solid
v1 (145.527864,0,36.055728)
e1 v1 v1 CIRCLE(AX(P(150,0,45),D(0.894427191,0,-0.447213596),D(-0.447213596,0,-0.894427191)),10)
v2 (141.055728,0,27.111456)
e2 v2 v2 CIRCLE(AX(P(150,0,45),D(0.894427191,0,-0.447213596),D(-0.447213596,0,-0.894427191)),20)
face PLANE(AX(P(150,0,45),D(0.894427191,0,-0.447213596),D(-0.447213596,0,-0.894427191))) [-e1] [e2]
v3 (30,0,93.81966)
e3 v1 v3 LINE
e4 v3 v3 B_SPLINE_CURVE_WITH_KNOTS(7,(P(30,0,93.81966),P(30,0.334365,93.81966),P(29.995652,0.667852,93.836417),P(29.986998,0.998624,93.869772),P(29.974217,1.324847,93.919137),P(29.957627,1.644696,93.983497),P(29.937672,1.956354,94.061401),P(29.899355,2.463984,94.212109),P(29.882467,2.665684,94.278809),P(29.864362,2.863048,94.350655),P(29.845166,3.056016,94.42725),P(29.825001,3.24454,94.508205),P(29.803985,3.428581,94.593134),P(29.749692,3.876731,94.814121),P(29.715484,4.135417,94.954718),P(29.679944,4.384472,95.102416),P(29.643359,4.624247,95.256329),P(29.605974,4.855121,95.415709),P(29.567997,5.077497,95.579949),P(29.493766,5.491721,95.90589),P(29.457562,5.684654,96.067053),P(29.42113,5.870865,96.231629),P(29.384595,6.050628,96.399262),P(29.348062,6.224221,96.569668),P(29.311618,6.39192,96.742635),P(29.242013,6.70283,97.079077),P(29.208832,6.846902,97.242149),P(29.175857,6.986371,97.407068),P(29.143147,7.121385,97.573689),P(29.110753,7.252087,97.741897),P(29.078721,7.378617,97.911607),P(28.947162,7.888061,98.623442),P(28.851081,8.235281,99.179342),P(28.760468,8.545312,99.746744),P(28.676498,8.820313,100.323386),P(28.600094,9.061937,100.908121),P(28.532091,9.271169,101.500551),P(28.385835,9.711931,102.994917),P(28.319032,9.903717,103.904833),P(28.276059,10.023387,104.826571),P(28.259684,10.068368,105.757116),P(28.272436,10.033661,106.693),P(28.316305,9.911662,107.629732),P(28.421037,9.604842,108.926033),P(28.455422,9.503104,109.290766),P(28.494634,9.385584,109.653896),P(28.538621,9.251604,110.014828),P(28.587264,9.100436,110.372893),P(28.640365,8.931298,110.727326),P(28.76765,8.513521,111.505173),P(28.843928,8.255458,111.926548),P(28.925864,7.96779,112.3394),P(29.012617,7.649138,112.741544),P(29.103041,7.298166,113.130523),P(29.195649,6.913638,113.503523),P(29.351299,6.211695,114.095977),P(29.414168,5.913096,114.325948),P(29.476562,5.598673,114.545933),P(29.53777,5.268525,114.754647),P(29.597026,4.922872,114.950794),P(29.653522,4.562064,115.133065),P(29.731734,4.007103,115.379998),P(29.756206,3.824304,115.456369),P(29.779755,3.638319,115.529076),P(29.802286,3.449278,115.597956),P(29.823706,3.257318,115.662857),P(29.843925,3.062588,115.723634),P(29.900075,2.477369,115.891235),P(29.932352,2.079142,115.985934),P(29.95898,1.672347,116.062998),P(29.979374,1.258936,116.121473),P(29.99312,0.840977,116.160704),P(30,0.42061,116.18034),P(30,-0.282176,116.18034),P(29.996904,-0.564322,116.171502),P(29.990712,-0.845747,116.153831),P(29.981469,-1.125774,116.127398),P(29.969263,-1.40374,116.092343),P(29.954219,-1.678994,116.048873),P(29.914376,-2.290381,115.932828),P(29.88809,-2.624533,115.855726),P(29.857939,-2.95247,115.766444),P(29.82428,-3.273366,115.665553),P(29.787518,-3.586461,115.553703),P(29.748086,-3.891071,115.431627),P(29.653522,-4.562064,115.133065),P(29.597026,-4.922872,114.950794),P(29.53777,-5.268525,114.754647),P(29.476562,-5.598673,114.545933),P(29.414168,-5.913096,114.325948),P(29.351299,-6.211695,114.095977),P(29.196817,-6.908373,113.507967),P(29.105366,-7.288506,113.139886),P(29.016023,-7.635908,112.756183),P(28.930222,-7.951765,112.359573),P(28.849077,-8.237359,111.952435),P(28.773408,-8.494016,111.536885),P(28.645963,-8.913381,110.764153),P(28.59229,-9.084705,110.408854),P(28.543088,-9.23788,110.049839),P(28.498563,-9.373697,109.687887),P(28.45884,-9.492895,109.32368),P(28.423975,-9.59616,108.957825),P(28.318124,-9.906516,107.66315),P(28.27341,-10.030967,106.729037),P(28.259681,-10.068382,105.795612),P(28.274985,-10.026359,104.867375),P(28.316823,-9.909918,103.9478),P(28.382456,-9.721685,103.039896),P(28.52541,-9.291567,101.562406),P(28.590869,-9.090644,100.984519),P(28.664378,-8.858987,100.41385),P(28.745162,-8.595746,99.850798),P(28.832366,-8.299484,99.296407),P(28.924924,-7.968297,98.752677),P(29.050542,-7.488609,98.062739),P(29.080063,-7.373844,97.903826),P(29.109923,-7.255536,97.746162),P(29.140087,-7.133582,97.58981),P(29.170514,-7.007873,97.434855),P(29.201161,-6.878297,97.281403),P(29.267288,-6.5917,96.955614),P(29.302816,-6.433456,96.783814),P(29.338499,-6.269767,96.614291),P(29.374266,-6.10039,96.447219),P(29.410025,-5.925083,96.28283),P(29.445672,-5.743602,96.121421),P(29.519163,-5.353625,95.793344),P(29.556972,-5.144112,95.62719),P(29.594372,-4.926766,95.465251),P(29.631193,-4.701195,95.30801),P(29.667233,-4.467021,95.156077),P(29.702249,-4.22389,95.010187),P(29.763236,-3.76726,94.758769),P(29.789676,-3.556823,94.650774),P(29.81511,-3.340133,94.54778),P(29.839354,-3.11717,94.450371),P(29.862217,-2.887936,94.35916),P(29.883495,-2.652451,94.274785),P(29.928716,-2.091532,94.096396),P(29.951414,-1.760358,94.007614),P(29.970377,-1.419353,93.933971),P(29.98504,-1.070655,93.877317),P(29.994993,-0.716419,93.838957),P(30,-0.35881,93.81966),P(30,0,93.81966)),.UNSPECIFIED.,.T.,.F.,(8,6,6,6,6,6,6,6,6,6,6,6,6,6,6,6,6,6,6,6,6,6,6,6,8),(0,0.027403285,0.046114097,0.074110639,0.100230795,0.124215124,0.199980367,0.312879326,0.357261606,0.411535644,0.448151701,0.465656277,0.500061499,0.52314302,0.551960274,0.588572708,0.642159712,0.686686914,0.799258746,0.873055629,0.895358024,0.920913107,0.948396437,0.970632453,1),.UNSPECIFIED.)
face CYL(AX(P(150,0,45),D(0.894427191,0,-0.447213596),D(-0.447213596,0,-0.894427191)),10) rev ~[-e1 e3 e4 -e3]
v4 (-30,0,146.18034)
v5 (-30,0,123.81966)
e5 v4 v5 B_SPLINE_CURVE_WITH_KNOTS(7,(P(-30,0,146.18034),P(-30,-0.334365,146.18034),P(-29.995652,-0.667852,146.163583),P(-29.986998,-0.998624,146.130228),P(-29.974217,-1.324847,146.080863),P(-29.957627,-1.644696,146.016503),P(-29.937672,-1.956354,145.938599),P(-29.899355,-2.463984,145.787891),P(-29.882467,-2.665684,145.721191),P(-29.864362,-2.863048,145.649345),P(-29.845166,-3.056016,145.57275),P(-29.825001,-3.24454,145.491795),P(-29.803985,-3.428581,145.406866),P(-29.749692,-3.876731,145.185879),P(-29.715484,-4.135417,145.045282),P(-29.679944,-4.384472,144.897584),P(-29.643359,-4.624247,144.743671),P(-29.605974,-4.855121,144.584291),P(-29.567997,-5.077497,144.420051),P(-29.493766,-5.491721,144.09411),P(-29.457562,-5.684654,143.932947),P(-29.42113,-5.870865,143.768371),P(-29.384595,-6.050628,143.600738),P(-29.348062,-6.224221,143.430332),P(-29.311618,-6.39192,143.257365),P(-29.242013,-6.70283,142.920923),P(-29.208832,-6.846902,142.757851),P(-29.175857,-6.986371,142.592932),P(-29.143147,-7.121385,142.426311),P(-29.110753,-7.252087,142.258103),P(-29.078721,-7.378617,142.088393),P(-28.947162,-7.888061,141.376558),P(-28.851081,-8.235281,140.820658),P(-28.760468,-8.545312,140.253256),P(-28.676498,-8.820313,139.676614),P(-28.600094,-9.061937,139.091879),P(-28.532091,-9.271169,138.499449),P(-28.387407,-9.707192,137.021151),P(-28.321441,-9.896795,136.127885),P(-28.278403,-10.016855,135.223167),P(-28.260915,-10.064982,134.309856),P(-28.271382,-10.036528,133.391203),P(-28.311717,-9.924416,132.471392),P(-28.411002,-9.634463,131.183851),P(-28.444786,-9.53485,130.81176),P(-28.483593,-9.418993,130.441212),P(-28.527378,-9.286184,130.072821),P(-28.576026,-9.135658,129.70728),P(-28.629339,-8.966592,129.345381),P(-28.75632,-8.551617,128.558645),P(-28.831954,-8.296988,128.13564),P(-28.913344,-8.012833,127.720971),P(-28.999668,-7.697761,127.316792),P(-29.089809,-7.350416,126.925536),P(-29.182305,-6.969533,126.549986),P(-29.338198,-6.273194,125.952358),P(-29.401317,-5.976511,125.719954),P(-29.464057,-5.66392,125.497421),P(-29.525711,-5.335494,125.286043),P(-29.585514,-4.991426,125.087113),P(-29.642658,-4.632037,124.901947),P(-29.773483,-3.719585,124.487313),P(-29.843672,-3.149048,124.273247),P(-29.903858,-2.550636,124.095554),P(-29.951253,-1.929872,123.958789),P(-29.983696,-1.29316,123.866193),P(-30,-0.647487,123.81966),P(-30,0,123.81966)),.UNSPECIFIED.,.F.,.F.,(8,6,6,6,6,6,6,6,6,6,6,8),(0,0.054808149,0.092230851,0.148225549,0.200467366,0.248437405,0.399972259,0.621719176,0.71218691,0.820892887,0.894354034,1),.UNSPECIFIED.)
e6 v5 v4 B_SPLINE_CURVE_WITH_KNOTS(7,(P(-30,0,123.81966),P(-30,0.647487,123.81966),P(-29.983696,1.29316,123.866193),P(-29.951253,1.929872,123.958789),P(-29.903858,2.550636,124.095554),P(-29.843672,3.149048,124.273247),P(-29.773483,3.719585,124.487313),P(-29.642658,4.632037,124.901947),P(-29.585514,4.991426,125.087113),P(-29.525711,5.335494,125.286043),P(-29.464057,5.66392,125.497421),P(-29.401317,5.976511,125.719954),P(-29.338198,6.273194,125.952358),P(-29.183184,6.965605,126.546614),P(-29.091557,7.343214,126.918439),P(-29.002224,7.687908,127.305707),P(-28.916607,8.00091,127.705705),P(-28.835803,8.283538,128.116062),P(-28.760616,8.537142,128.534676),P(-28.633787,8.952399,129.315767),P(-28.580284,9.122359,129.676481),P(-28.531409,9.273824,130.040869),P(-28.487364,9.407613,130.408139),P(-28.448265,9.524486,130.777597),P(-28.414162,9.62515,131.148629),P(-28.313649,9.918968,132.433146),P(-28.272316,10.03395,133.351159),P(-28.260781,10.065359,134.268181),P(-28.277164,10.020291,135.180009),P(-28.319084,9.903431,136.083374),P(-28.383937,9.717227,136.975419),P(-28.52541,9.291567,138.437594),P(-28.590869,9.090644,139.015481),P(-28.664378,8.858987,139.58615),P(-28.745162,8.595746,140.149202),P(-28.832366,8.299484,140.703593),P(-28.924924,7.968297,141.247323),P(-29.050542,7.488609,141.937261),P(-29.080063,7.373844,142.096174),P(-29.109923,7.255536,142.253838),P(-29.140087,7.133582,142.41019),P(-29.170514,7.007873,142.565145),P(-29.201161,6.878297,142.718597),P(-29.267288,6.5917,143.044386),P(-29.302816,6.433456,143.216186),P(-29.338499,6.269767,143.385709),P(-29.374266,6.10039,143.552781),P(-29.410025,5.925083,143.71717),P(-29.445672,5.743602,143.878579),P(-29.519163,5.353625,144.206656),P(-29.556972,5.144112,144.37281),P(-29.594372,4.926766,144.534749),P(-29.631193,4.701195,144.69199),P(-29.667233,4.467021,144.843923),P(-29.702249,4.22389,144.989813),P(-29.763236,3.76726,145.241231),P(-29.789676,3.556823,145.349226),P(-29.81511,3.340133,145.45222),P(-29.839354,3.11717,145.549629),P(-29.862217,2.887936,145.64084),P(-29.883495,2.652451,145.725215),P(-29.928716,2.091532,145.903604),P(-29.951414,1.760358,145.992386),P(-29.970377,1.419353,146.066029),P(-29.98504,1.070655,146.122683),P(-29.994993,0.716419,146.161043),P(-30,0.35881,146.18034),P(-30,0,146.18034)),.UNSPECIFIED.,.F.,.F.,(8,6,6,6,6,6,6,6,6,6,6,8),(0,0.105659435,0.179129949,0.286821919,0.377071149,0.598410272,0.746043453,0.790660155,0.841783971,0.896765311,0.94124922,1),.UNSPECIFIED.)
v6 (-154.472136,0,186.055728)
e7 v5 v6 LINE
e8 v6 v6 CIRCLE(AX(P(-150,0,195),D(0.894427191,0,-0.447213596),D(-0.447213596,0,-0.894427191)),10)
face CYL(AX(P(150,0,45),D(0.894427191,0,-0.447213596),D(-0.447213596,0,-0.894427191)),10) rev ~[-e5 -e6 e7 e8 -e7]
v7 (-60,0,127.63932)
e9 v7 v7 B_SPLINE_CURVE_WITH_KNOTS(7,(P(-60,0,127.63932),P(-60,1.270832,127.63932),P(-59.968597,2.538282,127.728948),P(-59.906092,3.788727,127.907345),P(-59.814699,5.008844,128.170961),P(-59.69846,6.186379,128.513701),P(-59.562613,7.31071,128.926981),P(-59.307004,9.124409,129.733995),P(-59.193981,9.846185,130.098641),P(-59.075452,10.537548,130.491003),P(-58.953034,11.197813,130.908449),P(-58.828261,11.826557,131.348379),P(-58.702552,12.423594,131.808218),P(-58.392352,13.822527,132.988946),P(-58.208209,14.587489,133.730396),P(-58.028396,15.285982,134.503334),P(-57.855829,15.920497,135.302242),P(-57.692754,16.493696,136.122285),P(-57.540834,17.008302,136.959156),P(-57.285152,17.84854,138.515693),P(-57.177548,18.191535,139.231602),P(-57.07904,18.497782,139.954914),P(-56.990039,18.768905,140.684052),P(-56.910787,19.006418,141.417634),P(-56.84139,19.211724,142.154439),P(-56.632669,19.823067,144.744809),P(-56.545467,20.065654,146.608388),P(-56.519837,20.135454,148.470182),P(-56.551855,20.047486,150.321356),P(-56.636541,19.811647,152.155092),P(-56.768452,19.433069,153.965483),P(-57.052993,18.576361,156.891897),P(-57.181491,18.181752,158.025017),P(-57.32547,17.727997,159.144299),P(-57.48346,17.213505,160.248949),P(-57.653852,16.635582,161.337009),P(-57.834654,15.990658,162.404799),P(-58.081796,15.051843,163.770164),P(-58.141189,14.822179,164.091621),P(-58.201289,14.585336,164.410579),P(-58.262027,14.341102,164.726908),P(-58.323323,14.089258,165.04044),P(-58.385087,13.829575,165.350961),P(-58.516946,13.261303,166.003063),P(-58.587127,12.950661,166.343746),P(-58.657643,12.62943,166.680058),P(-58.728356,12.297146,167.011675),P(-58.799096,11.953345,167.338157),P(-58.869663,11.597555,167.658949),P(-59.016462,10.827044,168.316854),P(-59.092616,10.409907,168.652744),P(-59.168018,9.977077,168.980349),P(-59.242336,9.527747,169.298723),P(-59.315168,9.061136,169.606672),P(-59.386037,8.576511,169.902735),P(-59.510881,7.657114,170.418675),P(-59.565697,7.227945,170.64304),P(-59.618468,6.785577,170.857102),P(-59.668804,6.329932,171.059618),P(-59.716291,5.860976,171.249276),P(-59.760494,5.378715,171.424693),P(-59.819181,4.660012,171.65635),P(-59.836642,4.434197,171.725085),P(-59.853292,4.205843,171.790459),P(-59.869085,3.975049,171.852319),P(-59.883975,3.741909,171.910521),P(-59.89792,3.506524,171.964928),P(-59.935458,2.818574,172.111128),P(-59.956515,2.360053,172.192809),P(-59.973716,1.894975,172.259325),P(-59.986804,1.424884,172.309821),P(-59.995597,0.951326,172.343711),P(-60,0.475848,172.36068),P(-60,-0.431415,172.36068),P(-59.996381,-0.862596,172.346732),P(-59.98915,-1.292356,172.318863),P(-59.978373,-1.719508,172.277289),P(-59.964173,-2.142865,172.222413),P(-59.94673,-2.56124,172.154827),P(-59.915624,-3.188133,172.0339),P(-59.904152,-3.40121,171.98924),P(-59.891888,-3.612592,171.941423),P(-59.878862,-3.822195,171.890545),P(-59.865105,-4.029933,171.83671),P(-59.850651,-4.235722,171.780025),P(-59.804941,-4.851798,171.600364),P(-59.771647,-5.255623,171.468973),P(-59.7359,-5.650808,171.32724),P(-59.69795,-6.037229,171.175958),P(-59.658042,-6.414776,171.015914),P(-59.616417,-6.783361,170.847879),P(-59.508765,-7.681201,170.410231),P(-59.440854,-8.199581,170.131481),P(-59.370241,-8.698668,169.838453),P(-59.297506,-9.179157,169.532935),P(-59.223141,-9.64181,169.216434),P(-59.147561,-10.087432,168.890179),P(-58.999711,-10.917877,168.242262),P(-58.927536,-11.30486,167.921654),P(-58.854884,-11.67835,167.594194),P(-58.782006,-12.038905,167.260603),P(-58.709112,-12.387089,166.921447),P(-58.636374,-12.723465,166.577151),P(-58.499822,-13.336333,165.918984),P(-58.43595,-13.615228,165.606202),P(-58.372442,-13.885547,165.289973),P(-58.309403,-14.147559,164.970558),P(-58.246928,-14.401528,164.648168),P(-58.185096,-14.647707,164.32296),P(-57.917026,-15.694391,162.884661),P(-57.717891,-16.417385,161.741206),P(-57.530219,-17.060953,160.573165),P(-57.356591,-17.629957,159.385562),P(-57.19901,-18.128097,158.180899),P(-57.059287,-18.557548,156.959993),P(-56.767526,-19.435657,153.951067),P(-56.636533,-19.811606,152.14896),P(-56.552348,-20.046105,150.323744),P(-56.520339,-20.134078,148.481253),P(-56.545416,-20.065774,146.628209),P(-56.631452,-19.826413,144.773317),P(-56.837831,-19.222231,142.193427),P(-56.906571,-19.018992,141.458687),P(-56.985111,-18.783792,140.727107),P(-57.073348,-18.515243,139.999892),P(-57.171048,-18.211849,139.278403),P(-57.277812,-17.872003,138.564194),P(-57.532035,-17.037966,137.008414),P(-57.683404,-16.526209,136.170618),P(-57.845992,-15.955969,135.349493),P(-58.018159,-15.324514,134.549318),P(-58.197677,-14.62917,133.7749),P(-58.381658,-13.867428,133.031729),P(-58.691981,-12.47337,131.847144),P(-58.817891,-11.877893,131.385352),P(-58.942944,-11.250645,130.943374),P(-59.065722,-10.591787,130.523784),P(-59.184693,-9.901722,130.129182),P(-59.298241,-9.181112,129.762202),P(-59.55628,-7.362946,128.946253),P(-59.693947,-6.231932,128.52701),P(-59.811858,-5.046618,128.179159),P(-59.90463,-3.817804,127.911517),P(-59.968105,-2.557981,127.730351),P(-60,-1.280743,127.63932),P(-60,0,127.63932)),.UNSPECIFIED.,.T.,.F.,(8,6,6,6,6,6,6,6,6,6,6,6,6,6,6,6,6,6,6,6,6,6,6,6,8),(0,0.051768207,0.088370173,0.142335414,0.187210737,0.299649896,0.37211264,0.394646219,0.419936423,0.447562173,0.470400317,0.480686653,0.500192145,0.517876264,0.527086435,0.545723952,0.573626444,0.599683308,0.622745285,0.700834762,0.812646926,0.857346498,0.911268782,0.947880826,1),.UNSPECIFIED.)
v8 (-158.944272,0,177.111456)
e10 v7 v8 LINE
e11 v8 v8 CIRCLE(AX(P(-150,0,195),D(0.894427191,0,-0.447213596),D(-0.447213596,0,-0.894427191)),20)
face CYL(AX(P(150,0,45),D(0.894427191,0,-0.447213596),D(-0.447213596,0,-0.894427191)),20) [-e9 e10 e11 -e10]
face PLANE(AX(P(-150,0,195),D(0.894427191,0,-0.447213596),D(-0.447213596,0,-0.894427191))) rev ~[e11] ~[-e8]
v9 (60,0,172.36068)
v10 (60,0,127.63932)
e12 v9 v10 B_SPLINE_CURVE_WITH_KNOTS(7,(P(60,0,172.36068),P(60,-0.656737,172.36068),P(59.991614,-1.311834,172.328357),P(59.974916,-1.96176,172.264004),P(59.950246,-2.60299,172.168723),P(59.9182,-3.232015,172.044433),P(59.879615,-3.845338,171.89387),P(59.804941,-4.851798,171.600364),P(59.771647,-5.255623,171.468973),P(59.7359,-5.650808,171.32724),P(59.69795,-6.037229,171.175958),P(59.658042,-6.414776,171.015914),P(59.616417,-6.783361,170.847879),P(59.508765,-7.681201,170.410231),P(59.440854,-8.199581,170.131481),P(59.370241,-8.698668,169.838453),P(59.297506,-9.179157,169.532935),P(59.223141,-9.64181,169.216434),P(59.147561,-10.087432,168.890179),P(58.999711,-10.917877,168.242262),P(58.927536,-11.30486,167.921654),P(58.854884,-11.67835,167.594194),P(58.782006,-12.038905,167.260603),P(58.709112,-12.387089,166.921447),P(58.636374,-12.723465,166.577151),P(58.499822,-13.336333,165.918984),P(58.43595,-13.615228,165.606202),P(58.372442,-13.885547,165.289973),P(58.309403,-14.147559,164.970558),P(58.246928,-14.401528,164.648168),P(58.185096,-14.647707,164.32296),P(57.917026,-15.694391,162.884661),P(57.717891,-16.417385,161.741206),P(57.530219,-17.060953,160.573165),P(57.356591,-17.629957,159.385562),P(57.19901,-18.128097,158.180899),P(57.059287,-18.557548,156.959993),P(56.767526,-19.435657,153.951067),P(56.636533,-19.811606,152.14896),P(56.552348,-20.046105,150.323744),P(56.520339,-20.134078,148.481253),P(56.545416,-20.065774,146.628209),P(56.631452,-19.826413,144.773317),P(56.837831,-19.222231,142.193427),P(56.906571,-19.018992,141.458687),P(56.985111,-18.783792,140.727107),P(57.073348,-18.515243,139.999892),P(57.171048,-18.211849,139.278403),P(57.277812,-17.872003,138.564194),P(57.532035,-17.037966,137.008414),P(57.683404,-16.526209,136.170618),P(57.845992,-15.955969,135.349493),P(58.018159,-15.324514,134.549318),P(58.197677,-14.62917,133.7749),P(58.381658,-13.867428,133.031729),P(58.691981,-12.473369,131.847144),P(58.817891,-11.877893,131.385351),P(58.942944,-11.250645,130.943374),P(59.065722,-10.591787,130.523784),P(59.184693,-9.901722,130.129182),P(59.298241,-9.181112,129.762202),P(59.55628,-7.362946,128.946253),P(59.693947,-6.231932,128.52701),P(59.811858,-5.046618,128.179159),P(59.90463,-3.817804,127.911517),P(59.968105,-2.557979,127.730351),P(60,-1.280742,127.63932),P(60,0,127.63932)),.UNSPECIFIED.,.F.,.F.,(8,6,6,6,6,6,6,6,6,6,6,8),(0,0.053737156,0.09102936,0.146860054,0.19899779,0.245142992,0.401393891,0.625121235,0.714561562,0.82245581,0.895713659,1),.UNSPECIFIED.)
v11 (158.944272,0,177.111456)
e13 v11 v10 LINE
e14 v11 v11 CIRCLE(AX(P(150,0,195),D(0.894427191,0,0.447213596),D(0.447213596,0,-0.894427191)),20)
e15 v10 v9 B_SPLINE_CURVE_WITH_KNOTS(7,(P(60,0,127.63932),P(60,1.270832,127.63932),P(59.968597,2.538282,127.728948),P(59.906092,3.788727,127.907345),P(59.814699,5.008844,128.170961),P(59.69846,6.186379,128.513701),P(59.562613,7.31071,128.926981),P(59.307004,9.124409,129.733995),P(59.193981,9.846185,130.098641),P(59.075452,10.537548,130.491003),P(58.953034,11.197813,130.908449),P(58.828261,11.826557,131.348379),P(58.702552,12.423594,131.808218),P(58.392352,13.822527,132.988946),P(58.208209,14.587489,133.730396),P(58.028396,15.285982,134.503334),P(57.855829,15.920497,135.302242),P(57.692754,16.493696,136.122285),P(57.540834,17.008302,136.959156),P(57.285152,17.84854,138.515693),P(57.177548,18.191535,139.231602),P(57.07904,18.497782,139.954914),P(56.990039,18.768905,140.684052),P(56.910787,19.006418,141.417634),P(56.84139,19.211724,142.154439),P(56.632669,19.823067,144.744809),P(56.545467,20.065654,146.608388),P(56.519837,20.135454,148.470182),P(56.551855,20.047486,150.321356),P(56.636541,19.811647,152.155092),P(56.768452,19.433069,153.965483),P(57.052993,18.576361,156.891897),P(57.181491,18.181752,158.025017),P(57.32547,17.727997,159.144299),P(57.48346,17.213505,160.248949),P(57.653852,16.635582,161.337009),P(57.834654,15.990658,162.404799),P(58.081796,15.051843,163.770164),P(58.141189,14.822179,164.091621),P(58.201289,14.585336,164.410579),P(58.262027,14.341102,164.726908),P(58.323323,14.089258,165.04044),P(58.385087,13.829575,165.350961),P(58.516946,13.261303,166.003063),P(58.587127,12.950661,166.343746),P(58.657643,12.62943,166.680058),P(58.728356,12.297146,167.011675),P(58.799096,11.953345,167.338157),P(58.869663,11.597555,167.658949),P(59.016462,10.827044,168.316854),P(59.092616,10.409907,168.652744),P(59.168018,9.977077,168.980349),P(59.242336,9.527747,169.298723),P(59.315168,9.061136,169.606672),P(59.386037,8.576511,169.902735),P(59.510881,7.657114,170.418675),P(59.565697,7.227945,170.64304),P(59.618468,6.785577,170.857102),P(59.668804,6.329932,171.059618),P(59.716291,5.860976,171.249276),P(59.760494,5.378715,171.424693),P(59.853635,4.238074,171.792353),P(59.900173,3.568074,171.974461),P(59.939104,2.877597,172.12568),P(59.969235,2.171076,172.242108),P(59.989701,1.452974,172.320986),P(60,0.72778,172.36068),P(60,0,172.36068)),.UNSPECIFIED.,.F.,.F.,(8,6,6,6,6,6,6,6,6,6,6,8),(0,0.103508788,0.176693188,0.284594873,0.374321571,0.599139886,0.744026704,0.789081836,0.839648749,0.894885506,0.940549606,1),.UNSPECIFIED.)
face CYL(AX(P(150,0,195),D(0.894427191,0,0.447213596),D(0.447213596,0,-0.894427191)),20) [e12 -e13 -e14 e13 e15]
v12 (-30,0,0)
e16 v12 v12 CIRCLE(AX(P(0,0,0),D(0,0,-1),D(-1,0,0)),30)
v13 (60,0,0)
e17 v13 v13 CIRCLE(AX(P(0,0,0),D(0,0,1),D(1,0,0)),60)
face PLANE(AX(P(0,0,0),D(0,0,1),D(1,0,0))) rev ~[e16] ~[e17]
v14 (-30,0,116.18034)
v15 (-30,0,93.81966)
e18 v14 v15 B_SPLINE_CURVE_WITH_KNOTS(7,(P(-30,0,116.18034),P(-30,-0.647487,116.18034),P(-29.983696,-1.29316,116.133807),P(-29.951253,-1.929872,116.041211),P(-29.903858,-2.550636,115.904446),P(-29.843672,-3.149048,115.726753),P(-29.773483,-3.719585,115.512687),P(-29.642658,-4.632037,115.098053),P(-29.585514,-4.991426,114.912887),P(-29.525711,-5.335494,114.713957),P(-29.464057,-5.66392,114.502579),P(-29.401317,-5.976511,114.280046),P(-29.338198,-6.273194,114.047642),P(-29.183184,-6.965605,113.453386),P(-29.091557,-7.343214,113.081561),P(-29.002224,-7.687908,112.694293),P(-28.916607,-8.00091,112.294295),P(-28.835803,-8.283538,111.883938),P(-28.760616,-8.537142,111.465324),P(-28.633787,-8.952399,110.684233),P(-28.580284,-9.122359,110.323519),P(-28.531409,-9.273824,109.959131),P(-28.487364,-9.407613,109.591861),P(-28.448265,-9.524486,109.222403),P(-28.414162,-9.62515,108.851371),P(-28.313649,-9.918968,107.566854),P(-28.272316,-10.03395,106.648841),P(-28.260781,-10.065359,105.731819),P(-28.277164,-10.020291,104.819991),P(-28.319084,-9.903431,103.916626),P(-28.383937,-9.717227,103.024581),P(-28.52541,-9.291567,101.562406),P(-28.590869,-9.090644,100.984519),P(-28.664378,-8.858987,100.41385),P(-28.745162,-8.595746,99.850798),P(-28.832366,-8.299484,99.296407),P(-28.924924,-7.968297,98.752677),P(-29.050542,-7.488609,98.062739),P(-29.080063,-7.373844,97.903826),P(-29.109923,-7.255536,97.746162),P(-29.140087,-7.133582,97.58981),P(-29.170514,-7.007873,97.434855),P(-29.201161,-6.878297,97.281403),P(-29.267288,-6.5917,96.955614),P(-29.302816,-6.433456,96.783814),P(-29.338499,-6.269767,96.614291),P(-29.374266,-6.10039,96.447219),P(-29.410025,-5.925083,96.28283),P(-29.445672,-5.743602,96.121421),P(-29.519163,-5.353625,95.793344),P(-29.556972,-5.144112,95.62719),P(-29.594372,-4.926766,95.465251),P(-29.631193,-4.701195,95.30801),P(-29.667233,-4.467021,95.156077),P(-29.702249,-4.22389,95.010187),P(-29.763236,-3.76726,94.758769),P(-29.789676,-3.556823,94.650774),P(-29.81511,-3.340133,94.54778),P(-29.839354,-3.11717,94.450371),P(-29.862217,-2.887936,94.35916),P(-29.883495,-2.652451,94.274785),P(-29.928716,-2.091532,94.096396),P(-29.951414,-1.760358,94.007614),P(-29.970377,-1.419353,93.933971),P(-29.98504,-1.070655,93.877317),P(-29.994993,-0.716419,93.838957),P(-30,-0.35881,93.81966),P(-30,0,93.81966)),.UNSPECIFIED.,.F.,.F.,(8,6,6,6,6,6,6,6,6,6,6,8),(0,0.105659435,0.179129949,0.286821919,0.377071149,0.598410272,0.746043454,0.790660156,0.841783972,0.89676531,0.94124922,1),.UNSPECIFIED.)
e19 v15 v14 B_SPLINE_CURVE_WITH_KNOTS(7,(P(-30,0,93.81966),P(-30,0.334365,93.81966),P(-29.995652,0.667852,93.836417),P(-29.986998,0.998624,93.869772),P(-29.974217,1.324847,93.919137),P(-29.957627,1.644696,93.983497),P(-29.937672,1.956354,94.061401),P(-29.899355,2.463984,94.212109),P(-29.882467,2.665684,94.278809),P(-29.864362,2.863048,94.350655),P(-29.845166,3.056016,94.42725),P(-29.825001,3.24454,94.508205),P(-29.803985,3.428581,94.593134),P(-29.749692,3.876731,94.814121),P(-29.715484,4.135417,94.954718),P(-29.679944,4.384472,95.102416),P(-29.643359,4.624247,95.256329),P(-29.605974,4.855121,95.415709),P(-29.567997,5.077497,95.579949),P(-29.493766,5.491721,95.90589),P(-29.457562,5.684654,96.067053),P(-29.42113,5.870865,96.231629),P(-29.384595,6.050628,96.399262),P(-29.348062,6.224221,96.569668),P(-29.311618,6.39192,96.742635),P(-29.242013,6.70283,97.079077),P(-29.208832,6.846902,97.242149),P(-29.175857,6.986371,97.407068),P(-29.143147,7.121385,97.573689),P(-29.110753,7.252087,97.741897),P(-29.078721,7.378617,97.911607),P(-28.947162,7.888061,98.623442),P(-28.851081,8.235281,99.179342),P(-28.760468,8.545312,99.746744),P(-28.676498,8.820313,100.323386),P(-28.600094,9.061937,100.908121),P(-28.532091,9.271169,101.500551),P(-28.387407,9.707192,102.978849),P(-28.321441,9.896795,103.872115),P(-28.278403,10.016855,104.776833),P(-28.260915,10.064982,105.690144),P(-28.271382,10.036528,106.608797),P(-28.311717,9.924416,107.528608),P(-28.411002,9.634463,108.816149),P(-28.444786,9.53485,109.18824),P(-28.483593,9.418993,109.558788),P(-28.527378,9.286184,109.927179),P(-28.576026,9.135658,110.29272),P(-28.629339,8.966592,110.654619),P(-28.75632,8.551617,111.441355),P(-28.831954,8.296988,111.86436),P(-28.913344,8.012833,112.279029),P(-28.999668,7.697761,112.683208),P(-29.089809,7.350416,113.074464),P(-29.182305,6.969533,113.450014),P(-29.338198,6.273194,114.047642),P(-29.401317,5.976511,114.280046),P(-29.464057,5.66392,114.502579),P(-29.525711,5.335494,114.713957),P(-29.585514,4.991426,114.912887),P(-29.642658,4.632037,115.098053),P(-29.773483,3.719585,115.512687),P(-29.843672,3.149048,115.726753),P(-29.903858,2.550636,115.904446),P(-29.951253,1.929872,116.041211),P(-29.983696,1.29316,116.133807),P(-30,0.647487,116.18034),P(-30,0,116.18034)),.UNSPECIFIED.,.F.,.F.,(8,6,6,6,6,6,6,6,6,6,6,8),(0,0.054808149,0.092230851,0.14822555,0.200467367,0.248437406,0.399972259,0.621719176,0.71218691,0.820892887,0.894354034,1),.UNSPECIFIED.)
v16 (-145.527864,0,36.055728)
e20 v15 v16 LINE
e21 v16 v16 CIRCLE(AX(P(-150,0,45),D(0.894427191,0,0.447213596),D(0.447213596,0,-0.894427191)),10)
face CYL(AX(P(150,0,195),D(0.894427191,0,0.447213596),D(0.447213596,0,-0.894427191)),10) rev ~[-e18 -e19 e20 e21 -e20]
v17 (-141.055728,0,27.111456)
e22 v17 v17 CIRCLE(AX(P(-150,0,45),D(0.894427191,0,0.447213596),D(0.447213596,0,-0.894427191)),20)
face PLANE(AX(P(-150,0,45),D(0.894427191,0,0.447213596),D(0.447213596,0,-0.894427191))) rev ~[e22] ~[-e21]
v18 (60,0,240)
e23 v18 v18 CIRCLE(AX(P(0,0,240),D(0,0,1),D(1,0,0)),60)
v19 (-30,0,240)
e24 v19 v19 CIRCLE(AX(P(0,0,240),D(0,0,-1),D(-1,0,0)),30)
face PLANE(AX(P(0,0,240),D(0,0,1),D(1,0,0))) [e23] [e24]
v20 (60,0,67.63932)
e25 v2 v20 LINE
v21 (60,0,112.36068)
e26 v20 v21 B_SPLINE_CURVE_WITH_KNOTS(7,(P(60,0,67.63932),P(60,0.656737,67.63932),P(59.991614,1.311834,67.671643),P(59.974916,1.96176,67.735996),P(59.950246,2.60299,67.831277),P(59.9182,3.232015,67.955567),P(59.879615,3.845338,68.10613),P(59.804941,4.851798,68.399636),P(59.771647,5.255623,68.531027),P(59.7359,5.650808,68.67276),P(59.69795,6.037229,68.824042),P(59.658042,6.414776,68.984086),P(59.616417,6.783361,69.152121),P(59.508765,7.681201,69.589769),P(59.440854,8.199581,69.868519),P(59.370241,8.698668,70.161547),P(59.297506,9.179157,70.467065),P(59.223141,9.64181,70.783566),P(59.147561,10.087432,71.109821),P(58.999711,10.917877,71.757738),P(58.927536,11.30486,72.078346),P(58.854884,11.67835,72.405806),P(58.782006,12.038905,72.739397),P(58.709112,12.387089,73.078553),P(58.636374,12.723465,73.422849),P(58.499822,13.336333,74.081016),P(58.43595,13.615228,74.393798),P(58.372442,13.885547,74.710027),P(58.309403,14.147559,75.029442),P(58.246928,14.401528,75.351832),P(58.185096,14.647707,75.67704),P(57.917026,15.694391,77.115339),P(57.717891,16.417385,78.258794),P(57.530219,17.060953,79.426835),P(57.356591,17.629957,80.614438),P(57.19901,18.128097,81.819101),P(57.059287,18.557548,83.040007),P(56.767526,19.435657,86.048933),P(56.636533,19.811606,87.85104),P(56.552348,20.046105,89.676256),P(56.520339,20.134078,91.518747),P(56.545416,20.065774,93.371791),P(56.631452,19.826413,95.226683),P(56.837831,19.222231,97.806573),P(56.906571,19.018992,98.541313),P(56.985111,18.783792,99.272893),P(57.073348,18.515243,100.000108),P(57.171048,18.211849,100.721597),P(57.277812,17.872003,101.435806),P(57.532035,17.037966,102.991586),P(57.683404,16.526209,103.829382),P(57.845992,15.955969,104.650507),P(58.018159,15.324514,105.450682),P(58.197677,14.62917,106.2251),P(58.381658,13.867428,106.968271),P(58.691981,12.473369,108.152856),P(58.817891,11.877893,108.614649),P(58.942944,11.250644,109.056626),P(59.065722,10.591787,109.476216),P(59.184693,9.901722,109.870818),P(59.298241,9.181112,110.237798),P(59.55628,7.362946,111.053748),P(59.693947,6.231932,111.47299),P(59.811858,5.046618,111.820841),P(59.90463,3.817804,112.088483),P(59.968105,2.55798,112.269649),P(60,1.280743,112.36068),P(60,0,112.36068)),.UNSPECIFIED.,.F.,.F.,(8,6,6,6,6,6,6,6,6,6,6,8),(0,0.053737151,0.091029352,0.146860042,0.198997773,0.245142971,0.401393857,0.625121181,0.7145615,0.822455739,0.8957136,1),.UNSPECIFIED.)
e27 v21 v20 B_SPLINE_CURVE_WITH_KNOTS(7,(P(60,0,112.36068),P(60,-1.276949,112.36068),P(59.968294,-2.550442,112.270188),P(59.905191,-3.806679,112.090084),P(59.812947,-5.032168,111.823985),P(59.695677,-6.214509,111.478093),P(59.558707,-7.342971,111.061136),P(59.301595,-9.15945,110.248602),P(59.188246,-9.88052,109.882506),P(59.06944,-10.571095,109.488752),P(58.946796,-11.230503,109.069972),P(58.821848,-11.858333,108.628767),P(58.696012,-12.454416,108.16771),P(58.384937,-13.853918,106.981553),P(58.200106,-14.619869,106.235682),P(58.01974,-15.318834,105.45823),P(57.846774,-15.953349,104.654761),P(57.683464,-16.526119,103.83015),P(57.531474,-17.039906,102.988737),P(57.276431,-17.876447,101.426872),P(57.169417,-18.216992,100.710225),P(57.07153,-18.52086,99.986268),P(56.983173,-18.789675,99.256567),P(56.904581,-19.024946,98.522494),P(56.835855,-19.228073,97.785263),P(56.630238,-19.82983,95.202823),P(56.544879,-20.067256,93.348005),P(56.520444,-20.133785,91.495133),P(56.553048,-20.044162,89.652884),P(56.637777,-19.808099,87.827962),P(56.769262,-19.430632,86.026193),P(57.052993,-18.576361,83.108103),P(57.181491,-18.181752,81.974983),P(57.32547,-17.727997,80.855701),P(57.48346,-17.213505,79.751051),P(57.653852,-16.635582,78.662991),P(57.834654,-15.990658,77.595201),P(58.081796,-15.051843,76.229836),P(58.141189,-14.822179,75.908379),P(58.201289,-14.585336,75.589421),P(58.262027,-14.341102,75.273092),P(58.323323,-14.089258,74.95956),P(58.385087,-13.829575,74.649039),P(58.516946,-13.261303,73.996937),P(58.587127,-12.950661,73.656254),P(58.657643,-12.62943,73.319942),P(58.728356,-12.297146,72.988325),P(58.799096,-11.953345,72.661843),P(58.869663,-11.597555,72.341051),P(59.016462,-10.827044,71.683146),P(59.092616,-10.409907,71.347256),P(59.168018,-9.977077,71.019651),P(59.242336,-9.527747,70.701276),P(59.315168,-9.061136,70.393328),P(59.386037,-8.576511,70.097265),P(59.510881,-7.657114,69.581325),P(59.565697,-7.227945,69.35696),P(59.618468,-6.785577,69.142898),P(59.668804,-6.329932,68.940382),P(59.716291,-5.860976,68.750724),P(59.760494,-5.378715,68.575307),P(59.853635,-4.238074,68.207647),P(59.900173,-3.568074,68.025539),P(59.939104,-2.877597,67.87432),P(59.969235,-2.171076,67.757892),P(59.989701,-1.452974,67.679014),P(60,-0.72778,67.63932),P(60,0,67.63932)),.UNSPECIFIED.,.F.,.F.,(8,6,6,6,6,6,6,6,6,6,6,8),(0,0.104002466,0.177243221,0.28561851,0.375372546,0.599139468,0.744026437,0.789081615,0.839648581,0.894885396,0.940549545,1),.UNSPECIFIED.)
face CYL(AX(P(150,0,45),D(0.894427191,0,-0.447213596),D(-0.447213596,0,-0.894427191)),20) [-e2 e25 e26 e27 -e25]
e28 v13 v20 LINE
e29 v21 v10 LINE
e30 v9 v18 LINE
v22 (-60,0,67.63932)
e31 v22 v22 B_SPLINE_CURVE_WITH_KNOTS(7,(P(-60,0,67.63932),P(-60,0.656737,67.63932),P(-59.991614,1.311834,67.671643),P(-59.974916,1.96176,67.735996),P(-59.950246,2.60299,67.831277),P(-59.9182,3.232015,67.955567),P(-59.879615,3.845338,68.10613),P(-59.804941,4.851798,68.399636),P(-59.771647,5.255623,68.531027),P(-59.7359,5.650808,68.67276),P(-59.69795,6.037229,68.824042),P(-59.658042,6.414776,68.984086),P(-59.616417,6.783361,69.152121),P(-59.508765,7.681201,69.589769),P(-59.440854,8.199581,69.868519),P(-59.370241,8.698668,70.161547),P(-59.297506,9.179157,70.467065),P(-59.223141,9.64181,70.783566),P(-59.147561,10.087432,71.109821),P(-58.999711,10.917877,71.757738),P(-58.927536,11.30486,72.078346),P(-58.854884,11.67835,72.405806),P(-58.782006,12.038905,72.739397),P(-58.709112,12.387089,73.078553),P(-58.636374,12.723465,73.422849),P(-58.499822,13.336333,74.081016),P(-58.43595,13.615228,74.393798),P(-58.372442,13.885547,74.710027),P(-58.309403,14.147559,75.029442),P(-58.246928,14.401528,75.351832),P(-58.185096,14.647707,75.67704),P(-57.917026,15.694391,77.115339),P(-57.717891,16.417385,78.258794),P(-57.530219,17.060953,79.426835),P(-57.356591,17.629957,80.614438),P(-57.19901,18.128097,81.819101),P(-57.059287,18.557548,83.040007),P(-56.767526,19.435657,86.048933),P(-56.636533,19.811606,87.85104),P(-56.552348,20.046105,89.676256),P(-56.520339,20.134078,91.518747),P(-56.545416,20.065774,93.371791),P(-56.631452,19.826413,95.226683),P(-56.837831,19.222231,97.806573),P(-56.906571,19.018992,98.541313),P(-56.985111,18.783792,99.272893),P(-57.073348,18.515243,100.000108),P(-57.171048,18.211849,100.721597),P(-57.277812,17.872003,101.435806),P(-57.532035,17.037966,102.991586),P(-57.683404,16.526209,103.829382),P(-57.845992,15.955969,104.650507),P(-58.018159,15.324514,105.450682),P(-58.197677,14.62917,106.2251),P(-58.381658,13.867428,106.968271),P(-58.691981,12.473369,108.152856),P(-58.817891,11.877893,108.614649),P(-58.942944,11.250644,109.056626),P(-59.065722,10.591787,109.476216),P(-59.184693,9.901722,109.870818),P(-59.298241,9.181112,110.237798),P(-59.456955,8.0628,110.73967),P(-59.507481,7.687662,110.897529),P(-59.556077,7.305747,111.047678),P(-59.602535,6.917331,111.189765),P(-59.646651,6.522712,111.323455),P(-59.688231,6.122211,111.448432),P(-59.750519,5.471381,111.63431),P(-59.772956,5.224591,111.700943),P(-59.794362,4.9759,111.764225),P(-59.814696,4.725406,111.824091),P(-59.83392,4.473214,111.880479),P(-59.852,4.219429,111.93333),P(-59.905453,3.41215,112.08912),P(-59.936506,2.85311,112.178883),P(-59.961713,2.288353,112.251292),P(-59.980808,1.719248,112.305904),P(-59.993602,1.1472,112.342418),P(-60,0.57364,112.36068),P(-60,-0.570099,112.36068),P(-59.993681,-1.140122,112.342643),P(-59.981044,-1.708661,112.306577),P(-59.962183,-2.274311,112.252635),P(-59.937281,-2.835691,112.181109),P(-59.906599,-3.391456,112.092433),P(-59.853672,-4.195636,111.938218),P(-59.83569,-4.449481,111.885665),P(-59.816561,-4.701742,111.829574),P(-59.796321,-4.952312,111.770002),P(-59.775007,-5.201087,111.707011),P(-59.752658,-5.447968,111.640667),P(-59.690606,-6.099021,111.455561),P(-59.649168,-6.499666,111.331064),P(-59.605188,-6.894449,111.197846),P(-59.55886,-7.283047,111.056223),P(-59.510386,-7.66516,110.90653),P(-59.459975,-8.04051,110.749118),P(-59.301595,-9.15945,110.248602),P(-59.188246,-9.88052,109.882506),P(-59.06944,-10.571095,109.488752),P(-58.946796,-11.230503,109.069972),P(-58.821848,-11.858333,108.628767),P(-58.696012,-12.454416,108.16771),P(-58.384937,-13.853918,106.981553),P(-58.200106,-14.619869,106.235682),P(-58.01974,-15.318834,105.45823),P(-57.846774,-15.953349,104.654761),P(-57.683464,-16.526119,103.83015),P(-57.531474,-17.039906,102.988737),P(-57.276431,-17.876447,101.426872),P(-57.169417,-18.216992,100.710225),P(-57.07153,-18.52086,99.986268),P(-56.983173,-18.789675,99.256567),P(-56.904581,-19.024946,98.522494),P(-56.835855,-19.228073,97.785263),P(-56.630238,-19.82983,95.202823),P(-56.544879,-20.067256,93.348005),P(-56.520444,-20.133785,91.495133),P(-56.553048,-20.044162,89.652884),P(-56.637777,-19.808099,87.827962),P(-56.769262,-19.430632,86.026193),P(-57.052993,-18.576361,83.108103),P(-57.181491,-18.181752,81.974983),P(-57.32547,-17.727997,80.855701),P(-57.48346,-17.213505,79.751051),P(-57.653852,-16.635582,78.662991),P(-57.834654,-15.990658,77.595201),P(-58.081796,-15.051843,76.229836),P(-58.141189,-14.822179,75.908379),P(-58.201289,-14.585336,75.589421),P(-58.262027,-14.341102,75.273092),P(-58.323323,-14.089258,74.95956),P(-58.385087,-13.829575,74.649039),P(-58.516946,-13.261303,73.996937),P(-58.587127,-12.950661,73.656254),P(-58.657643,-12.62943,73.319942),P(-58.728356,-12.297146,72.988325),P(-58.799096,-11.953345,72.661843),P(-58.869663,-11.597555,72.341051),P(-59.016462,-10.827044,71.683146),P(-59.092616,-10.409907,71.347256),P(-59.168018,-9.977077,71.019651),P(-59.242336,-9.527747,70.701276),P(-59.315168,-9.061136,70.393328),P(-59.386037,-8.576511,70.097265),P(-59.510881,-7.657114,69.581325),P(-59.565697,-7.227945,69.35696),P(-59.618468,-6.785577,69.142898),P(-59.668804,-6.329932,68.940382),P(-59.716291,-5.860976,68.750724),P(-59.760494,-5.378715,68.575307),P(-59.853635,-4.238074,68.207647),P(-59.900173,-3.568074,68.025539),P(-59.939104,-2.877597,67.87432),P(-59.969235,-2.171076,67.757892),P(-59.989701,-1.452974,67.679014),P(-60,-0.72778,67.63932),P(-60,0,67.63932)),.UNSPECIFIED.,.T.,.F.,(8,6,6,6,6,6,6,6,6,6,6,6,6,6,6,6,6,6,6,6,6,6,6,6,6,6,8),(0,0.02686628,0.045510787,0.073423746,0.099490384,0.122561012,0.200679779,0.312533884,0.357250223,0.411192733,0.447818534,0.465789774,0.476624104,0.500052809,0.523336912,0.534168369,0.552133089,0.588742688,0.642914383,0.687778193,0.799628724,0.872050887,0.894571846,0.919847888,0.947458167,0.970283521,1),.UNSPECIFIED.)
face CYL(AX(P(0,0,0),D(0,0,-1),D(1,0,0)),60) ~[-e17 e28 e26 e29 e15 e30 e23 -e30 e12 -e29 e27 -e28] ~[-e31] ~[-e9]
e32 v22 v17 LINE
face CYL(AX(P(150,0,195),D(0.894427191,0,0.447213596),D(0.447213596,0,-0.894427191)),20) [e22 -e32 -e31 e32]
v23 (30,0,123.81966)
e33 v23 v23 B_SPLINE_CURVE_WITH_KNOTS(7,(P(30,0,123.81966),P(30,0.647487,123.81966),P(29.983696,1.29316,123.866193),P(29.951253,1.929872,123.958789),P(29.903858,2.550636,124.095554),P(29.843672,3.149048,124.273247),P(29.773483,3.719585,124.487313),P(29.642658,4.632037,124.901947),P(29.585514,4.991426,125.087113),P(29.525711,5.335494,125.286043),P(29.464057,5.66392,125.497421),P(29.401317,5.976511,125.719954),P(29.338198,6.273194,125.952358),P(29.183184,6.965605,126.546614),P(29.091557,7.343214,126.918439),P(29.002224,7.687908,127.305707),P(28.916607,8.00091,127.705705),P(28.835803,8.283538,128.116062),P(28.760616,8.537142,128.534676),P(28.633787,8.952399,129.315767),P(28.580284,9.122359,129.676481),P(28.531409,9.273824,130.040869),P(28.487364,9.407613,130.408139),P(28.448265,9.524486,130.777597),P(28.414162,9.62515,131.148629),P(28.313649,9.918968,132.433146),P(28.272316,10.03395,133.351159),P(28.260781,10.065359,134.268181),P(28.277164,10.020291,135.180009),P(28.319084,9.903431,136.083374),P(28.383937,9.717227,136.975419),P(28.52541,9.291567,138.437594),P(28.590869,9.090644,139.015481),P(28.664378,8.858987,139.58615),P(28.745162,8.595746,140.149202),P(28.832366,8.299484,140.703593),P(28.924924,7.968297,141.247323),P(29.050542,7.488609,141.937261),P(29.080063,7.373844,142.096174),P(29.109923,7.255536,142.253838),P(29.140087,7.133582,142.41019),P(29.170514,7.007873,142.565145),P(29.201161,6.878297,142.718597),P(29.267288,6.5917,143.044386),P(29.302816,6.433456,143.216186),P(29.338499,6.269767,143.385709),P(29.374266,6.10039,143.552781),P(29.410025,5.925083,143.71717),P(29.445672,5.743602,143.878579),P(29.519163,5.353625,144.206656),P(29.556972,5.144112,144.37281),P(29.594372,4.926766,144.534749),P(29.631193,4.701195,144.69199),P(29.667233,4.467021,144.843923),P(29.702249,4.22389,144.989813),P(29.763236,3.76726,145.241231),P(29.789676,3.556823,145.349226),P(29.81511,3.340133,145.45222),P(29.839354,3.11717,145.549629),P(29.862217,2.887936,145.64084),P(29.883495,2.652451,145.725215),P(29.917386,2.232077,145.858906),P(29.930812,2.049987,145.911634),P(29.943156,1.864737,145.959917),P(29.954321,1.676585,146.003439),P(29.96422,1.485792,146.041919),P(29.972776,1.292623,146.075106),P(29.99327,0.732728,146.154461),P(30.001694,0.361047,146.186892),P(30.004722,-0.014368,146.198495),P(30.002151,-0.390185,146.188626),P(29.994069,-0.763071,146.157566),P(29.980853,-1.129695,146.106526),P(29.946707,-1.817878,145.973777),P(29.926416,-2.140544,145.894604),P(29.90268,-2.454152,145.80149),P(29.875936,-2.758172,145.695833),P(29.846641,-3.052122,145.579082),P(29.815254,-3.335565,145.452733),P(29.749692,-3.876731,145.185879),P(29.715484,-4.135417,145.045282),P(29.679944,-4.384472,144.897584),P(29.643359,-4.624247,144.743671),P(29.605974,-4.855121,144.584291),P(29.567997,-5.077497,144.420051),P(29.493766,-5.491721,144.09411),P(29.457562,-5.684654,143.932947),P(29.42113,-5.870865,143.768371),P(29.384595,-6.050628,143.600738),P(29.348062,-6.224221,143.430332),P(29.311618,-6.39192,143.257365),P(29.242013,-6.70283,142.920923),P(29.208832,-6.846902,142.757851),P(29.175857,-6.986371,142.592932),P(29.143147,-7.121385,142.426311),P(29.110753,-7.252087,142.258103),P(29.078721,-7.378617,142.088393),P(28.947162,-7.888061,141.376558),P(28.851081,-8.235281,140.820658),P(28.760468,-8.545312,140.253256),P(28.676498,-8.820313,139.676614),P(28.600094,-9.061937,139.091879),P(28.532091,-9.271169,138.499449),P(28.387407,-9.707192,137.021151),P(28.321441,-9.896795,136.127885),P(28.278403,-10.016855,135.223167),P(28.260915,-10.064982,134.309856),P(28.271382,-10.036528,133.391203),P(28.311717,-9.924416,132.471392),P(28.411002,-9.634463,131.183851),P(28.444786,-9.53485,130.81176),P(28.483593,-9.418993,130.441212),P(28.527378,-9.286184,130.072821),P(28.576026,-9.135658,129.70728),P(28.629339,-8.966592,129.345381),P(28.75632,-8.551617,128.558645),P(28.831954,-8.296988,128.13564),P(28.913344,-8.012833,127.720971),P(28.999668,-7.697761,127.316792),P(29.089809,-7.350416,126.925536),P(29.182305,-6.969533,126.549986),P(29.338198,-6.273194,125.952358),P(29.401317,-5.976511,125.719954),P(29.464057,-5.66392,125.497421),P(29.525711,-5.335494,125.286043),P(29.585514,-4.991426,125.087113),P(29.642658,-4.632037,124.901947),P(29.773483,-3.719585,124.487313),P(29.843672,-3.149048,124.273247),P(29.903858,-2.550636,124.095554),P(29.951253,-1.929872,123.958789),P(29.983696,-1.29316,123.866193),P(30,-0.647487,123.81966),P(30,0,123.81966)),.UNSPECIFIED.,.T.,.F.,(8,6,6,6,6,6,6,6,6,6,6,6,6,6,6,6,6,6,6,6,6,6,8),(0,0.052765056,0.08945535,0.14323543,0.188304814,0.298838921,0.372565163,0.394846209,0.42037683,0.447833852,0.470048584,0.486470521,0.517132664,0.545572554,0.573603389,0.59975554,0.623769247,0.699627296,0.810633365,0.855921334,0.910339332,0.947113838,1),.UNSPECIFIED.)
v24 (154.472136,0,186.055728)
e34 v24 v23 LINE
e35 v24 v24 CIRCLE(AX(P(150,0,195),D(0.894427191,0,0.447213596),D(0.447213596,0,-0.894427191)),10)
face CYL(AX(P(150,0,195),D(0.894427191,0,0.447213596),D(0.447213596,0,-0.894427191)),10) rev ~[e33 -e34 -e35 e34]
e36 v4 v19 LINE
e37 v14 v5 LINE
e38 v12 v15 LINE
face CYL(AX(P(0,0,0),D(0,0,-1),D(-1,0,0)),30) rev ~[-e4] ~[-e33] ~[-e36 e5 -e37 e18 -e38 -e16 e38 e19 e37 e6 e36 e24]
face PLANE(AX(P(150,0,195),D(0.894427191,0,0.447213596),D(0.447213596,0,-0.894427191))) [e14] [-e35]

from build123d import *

# Parameters (mm, degrees)
CROQUIS1_R              = 60
SALIENTE_EXTRUIR1_DEPTH = 240
CROQUIS4_R              = 20
SALIENTE_EXTRUIR2_DEPTH = 335.410197
CROQUIS5_R              = 20
SALIENTE_EXTRUIR3_DEPTH = 335.410197
CROQUIS6_R              = 10
CORTAR_EXTRUIR2_DEPTH   = 335.410197
CROQUIS7_R              = 10
CORTAR_EXTRUIR3_DEPTH   = 335.410197
CROQUIS8_R              = 30
CORTAR_EXTRUIR4_DEPTH   = 304


with BuildPart() as part:
    # Croquis1 → Saliente-Extruir1 (new body)
    with BuildSketch(Plane.XY):
        Circle(CROQUIS1_R)
    extrude(amount=SALIENTE_EXTRUIR1_DEPTH)

    # Croquis4 → Saliente-Extruir2 (add)
    with BuildSketch(Plane(origin=(102, 0, -51), x_dir=(-0.44721359549995804, 0, -0.8944271909999159), z_dir=(0.8944271909999159, 0, -0.44721359549995804))):
        with Locations((-107.33126292, 0)):
            Circle(CROQUIS4_R)
    extrude(amount=-SALIENTE_EXTRUIR2_DEPTH)

    # Croquis5 → Saliente-Extruir3 (add)
    with BuildSketch(Plane(origin=(198, 0, 99), x_dir=(0.44721359549995826, 0, -0.8944271909999157), z_dir=(0.8944271909999157, 0, 0.44721359549995826))):
        with Locations((-107.33126292, 0)):
            Circle(CROQUIS5_R)
    extrude(amount=-SALIENTE_EXTRUIR3_DEPTH)

    # Croquis6 → Cortar-Extruir2 (cut)
    with BuildSketch(Plane(origin=(198, 0, 99), x_dir=(0.44721359549995826, 0, -0.8944271909999157), z_dir=(0.8944271909999157, 0, 0.44721359549995826))):
        with Locations((-107.33126292, 0)):
            Circle(CROQUIS6_R)
    extrude(amount=-CORTAR_EXTRUIR2_DEPTH, mode=Mode.SUBTRACT)

    # Croquis7 → Cortar-Extruir3 (cut)
    with BuildSketch(Plane(origin=(102, 0, -51), x_dir=(-0.44721359549995804, 0, -0.8944271909999159), z_dir=(0.8944271909999159, 0, -0.44721359549995804))):
        with Locations((-107.33126292, 0)):
            Circle(CROQUIS7_R)
    extrude(amount=-CORTAR_EXTRUIR3_DEPTH, mode=Mode.SUBTRACT)

    # Croquis8 → Cortar-Extruir4 (cut)
    with BuildSketch(Plane(origin=(0, 0, 0), x_dir=(-1, 0, 0), z_dir=(0, 0, -1))):
        Circle(CROQUIS8_R)
    extrude(amount=-CORTAR_EXTRUIR4_DEPTH, mode=Mode.SUBTRACT)


solid = part.part
